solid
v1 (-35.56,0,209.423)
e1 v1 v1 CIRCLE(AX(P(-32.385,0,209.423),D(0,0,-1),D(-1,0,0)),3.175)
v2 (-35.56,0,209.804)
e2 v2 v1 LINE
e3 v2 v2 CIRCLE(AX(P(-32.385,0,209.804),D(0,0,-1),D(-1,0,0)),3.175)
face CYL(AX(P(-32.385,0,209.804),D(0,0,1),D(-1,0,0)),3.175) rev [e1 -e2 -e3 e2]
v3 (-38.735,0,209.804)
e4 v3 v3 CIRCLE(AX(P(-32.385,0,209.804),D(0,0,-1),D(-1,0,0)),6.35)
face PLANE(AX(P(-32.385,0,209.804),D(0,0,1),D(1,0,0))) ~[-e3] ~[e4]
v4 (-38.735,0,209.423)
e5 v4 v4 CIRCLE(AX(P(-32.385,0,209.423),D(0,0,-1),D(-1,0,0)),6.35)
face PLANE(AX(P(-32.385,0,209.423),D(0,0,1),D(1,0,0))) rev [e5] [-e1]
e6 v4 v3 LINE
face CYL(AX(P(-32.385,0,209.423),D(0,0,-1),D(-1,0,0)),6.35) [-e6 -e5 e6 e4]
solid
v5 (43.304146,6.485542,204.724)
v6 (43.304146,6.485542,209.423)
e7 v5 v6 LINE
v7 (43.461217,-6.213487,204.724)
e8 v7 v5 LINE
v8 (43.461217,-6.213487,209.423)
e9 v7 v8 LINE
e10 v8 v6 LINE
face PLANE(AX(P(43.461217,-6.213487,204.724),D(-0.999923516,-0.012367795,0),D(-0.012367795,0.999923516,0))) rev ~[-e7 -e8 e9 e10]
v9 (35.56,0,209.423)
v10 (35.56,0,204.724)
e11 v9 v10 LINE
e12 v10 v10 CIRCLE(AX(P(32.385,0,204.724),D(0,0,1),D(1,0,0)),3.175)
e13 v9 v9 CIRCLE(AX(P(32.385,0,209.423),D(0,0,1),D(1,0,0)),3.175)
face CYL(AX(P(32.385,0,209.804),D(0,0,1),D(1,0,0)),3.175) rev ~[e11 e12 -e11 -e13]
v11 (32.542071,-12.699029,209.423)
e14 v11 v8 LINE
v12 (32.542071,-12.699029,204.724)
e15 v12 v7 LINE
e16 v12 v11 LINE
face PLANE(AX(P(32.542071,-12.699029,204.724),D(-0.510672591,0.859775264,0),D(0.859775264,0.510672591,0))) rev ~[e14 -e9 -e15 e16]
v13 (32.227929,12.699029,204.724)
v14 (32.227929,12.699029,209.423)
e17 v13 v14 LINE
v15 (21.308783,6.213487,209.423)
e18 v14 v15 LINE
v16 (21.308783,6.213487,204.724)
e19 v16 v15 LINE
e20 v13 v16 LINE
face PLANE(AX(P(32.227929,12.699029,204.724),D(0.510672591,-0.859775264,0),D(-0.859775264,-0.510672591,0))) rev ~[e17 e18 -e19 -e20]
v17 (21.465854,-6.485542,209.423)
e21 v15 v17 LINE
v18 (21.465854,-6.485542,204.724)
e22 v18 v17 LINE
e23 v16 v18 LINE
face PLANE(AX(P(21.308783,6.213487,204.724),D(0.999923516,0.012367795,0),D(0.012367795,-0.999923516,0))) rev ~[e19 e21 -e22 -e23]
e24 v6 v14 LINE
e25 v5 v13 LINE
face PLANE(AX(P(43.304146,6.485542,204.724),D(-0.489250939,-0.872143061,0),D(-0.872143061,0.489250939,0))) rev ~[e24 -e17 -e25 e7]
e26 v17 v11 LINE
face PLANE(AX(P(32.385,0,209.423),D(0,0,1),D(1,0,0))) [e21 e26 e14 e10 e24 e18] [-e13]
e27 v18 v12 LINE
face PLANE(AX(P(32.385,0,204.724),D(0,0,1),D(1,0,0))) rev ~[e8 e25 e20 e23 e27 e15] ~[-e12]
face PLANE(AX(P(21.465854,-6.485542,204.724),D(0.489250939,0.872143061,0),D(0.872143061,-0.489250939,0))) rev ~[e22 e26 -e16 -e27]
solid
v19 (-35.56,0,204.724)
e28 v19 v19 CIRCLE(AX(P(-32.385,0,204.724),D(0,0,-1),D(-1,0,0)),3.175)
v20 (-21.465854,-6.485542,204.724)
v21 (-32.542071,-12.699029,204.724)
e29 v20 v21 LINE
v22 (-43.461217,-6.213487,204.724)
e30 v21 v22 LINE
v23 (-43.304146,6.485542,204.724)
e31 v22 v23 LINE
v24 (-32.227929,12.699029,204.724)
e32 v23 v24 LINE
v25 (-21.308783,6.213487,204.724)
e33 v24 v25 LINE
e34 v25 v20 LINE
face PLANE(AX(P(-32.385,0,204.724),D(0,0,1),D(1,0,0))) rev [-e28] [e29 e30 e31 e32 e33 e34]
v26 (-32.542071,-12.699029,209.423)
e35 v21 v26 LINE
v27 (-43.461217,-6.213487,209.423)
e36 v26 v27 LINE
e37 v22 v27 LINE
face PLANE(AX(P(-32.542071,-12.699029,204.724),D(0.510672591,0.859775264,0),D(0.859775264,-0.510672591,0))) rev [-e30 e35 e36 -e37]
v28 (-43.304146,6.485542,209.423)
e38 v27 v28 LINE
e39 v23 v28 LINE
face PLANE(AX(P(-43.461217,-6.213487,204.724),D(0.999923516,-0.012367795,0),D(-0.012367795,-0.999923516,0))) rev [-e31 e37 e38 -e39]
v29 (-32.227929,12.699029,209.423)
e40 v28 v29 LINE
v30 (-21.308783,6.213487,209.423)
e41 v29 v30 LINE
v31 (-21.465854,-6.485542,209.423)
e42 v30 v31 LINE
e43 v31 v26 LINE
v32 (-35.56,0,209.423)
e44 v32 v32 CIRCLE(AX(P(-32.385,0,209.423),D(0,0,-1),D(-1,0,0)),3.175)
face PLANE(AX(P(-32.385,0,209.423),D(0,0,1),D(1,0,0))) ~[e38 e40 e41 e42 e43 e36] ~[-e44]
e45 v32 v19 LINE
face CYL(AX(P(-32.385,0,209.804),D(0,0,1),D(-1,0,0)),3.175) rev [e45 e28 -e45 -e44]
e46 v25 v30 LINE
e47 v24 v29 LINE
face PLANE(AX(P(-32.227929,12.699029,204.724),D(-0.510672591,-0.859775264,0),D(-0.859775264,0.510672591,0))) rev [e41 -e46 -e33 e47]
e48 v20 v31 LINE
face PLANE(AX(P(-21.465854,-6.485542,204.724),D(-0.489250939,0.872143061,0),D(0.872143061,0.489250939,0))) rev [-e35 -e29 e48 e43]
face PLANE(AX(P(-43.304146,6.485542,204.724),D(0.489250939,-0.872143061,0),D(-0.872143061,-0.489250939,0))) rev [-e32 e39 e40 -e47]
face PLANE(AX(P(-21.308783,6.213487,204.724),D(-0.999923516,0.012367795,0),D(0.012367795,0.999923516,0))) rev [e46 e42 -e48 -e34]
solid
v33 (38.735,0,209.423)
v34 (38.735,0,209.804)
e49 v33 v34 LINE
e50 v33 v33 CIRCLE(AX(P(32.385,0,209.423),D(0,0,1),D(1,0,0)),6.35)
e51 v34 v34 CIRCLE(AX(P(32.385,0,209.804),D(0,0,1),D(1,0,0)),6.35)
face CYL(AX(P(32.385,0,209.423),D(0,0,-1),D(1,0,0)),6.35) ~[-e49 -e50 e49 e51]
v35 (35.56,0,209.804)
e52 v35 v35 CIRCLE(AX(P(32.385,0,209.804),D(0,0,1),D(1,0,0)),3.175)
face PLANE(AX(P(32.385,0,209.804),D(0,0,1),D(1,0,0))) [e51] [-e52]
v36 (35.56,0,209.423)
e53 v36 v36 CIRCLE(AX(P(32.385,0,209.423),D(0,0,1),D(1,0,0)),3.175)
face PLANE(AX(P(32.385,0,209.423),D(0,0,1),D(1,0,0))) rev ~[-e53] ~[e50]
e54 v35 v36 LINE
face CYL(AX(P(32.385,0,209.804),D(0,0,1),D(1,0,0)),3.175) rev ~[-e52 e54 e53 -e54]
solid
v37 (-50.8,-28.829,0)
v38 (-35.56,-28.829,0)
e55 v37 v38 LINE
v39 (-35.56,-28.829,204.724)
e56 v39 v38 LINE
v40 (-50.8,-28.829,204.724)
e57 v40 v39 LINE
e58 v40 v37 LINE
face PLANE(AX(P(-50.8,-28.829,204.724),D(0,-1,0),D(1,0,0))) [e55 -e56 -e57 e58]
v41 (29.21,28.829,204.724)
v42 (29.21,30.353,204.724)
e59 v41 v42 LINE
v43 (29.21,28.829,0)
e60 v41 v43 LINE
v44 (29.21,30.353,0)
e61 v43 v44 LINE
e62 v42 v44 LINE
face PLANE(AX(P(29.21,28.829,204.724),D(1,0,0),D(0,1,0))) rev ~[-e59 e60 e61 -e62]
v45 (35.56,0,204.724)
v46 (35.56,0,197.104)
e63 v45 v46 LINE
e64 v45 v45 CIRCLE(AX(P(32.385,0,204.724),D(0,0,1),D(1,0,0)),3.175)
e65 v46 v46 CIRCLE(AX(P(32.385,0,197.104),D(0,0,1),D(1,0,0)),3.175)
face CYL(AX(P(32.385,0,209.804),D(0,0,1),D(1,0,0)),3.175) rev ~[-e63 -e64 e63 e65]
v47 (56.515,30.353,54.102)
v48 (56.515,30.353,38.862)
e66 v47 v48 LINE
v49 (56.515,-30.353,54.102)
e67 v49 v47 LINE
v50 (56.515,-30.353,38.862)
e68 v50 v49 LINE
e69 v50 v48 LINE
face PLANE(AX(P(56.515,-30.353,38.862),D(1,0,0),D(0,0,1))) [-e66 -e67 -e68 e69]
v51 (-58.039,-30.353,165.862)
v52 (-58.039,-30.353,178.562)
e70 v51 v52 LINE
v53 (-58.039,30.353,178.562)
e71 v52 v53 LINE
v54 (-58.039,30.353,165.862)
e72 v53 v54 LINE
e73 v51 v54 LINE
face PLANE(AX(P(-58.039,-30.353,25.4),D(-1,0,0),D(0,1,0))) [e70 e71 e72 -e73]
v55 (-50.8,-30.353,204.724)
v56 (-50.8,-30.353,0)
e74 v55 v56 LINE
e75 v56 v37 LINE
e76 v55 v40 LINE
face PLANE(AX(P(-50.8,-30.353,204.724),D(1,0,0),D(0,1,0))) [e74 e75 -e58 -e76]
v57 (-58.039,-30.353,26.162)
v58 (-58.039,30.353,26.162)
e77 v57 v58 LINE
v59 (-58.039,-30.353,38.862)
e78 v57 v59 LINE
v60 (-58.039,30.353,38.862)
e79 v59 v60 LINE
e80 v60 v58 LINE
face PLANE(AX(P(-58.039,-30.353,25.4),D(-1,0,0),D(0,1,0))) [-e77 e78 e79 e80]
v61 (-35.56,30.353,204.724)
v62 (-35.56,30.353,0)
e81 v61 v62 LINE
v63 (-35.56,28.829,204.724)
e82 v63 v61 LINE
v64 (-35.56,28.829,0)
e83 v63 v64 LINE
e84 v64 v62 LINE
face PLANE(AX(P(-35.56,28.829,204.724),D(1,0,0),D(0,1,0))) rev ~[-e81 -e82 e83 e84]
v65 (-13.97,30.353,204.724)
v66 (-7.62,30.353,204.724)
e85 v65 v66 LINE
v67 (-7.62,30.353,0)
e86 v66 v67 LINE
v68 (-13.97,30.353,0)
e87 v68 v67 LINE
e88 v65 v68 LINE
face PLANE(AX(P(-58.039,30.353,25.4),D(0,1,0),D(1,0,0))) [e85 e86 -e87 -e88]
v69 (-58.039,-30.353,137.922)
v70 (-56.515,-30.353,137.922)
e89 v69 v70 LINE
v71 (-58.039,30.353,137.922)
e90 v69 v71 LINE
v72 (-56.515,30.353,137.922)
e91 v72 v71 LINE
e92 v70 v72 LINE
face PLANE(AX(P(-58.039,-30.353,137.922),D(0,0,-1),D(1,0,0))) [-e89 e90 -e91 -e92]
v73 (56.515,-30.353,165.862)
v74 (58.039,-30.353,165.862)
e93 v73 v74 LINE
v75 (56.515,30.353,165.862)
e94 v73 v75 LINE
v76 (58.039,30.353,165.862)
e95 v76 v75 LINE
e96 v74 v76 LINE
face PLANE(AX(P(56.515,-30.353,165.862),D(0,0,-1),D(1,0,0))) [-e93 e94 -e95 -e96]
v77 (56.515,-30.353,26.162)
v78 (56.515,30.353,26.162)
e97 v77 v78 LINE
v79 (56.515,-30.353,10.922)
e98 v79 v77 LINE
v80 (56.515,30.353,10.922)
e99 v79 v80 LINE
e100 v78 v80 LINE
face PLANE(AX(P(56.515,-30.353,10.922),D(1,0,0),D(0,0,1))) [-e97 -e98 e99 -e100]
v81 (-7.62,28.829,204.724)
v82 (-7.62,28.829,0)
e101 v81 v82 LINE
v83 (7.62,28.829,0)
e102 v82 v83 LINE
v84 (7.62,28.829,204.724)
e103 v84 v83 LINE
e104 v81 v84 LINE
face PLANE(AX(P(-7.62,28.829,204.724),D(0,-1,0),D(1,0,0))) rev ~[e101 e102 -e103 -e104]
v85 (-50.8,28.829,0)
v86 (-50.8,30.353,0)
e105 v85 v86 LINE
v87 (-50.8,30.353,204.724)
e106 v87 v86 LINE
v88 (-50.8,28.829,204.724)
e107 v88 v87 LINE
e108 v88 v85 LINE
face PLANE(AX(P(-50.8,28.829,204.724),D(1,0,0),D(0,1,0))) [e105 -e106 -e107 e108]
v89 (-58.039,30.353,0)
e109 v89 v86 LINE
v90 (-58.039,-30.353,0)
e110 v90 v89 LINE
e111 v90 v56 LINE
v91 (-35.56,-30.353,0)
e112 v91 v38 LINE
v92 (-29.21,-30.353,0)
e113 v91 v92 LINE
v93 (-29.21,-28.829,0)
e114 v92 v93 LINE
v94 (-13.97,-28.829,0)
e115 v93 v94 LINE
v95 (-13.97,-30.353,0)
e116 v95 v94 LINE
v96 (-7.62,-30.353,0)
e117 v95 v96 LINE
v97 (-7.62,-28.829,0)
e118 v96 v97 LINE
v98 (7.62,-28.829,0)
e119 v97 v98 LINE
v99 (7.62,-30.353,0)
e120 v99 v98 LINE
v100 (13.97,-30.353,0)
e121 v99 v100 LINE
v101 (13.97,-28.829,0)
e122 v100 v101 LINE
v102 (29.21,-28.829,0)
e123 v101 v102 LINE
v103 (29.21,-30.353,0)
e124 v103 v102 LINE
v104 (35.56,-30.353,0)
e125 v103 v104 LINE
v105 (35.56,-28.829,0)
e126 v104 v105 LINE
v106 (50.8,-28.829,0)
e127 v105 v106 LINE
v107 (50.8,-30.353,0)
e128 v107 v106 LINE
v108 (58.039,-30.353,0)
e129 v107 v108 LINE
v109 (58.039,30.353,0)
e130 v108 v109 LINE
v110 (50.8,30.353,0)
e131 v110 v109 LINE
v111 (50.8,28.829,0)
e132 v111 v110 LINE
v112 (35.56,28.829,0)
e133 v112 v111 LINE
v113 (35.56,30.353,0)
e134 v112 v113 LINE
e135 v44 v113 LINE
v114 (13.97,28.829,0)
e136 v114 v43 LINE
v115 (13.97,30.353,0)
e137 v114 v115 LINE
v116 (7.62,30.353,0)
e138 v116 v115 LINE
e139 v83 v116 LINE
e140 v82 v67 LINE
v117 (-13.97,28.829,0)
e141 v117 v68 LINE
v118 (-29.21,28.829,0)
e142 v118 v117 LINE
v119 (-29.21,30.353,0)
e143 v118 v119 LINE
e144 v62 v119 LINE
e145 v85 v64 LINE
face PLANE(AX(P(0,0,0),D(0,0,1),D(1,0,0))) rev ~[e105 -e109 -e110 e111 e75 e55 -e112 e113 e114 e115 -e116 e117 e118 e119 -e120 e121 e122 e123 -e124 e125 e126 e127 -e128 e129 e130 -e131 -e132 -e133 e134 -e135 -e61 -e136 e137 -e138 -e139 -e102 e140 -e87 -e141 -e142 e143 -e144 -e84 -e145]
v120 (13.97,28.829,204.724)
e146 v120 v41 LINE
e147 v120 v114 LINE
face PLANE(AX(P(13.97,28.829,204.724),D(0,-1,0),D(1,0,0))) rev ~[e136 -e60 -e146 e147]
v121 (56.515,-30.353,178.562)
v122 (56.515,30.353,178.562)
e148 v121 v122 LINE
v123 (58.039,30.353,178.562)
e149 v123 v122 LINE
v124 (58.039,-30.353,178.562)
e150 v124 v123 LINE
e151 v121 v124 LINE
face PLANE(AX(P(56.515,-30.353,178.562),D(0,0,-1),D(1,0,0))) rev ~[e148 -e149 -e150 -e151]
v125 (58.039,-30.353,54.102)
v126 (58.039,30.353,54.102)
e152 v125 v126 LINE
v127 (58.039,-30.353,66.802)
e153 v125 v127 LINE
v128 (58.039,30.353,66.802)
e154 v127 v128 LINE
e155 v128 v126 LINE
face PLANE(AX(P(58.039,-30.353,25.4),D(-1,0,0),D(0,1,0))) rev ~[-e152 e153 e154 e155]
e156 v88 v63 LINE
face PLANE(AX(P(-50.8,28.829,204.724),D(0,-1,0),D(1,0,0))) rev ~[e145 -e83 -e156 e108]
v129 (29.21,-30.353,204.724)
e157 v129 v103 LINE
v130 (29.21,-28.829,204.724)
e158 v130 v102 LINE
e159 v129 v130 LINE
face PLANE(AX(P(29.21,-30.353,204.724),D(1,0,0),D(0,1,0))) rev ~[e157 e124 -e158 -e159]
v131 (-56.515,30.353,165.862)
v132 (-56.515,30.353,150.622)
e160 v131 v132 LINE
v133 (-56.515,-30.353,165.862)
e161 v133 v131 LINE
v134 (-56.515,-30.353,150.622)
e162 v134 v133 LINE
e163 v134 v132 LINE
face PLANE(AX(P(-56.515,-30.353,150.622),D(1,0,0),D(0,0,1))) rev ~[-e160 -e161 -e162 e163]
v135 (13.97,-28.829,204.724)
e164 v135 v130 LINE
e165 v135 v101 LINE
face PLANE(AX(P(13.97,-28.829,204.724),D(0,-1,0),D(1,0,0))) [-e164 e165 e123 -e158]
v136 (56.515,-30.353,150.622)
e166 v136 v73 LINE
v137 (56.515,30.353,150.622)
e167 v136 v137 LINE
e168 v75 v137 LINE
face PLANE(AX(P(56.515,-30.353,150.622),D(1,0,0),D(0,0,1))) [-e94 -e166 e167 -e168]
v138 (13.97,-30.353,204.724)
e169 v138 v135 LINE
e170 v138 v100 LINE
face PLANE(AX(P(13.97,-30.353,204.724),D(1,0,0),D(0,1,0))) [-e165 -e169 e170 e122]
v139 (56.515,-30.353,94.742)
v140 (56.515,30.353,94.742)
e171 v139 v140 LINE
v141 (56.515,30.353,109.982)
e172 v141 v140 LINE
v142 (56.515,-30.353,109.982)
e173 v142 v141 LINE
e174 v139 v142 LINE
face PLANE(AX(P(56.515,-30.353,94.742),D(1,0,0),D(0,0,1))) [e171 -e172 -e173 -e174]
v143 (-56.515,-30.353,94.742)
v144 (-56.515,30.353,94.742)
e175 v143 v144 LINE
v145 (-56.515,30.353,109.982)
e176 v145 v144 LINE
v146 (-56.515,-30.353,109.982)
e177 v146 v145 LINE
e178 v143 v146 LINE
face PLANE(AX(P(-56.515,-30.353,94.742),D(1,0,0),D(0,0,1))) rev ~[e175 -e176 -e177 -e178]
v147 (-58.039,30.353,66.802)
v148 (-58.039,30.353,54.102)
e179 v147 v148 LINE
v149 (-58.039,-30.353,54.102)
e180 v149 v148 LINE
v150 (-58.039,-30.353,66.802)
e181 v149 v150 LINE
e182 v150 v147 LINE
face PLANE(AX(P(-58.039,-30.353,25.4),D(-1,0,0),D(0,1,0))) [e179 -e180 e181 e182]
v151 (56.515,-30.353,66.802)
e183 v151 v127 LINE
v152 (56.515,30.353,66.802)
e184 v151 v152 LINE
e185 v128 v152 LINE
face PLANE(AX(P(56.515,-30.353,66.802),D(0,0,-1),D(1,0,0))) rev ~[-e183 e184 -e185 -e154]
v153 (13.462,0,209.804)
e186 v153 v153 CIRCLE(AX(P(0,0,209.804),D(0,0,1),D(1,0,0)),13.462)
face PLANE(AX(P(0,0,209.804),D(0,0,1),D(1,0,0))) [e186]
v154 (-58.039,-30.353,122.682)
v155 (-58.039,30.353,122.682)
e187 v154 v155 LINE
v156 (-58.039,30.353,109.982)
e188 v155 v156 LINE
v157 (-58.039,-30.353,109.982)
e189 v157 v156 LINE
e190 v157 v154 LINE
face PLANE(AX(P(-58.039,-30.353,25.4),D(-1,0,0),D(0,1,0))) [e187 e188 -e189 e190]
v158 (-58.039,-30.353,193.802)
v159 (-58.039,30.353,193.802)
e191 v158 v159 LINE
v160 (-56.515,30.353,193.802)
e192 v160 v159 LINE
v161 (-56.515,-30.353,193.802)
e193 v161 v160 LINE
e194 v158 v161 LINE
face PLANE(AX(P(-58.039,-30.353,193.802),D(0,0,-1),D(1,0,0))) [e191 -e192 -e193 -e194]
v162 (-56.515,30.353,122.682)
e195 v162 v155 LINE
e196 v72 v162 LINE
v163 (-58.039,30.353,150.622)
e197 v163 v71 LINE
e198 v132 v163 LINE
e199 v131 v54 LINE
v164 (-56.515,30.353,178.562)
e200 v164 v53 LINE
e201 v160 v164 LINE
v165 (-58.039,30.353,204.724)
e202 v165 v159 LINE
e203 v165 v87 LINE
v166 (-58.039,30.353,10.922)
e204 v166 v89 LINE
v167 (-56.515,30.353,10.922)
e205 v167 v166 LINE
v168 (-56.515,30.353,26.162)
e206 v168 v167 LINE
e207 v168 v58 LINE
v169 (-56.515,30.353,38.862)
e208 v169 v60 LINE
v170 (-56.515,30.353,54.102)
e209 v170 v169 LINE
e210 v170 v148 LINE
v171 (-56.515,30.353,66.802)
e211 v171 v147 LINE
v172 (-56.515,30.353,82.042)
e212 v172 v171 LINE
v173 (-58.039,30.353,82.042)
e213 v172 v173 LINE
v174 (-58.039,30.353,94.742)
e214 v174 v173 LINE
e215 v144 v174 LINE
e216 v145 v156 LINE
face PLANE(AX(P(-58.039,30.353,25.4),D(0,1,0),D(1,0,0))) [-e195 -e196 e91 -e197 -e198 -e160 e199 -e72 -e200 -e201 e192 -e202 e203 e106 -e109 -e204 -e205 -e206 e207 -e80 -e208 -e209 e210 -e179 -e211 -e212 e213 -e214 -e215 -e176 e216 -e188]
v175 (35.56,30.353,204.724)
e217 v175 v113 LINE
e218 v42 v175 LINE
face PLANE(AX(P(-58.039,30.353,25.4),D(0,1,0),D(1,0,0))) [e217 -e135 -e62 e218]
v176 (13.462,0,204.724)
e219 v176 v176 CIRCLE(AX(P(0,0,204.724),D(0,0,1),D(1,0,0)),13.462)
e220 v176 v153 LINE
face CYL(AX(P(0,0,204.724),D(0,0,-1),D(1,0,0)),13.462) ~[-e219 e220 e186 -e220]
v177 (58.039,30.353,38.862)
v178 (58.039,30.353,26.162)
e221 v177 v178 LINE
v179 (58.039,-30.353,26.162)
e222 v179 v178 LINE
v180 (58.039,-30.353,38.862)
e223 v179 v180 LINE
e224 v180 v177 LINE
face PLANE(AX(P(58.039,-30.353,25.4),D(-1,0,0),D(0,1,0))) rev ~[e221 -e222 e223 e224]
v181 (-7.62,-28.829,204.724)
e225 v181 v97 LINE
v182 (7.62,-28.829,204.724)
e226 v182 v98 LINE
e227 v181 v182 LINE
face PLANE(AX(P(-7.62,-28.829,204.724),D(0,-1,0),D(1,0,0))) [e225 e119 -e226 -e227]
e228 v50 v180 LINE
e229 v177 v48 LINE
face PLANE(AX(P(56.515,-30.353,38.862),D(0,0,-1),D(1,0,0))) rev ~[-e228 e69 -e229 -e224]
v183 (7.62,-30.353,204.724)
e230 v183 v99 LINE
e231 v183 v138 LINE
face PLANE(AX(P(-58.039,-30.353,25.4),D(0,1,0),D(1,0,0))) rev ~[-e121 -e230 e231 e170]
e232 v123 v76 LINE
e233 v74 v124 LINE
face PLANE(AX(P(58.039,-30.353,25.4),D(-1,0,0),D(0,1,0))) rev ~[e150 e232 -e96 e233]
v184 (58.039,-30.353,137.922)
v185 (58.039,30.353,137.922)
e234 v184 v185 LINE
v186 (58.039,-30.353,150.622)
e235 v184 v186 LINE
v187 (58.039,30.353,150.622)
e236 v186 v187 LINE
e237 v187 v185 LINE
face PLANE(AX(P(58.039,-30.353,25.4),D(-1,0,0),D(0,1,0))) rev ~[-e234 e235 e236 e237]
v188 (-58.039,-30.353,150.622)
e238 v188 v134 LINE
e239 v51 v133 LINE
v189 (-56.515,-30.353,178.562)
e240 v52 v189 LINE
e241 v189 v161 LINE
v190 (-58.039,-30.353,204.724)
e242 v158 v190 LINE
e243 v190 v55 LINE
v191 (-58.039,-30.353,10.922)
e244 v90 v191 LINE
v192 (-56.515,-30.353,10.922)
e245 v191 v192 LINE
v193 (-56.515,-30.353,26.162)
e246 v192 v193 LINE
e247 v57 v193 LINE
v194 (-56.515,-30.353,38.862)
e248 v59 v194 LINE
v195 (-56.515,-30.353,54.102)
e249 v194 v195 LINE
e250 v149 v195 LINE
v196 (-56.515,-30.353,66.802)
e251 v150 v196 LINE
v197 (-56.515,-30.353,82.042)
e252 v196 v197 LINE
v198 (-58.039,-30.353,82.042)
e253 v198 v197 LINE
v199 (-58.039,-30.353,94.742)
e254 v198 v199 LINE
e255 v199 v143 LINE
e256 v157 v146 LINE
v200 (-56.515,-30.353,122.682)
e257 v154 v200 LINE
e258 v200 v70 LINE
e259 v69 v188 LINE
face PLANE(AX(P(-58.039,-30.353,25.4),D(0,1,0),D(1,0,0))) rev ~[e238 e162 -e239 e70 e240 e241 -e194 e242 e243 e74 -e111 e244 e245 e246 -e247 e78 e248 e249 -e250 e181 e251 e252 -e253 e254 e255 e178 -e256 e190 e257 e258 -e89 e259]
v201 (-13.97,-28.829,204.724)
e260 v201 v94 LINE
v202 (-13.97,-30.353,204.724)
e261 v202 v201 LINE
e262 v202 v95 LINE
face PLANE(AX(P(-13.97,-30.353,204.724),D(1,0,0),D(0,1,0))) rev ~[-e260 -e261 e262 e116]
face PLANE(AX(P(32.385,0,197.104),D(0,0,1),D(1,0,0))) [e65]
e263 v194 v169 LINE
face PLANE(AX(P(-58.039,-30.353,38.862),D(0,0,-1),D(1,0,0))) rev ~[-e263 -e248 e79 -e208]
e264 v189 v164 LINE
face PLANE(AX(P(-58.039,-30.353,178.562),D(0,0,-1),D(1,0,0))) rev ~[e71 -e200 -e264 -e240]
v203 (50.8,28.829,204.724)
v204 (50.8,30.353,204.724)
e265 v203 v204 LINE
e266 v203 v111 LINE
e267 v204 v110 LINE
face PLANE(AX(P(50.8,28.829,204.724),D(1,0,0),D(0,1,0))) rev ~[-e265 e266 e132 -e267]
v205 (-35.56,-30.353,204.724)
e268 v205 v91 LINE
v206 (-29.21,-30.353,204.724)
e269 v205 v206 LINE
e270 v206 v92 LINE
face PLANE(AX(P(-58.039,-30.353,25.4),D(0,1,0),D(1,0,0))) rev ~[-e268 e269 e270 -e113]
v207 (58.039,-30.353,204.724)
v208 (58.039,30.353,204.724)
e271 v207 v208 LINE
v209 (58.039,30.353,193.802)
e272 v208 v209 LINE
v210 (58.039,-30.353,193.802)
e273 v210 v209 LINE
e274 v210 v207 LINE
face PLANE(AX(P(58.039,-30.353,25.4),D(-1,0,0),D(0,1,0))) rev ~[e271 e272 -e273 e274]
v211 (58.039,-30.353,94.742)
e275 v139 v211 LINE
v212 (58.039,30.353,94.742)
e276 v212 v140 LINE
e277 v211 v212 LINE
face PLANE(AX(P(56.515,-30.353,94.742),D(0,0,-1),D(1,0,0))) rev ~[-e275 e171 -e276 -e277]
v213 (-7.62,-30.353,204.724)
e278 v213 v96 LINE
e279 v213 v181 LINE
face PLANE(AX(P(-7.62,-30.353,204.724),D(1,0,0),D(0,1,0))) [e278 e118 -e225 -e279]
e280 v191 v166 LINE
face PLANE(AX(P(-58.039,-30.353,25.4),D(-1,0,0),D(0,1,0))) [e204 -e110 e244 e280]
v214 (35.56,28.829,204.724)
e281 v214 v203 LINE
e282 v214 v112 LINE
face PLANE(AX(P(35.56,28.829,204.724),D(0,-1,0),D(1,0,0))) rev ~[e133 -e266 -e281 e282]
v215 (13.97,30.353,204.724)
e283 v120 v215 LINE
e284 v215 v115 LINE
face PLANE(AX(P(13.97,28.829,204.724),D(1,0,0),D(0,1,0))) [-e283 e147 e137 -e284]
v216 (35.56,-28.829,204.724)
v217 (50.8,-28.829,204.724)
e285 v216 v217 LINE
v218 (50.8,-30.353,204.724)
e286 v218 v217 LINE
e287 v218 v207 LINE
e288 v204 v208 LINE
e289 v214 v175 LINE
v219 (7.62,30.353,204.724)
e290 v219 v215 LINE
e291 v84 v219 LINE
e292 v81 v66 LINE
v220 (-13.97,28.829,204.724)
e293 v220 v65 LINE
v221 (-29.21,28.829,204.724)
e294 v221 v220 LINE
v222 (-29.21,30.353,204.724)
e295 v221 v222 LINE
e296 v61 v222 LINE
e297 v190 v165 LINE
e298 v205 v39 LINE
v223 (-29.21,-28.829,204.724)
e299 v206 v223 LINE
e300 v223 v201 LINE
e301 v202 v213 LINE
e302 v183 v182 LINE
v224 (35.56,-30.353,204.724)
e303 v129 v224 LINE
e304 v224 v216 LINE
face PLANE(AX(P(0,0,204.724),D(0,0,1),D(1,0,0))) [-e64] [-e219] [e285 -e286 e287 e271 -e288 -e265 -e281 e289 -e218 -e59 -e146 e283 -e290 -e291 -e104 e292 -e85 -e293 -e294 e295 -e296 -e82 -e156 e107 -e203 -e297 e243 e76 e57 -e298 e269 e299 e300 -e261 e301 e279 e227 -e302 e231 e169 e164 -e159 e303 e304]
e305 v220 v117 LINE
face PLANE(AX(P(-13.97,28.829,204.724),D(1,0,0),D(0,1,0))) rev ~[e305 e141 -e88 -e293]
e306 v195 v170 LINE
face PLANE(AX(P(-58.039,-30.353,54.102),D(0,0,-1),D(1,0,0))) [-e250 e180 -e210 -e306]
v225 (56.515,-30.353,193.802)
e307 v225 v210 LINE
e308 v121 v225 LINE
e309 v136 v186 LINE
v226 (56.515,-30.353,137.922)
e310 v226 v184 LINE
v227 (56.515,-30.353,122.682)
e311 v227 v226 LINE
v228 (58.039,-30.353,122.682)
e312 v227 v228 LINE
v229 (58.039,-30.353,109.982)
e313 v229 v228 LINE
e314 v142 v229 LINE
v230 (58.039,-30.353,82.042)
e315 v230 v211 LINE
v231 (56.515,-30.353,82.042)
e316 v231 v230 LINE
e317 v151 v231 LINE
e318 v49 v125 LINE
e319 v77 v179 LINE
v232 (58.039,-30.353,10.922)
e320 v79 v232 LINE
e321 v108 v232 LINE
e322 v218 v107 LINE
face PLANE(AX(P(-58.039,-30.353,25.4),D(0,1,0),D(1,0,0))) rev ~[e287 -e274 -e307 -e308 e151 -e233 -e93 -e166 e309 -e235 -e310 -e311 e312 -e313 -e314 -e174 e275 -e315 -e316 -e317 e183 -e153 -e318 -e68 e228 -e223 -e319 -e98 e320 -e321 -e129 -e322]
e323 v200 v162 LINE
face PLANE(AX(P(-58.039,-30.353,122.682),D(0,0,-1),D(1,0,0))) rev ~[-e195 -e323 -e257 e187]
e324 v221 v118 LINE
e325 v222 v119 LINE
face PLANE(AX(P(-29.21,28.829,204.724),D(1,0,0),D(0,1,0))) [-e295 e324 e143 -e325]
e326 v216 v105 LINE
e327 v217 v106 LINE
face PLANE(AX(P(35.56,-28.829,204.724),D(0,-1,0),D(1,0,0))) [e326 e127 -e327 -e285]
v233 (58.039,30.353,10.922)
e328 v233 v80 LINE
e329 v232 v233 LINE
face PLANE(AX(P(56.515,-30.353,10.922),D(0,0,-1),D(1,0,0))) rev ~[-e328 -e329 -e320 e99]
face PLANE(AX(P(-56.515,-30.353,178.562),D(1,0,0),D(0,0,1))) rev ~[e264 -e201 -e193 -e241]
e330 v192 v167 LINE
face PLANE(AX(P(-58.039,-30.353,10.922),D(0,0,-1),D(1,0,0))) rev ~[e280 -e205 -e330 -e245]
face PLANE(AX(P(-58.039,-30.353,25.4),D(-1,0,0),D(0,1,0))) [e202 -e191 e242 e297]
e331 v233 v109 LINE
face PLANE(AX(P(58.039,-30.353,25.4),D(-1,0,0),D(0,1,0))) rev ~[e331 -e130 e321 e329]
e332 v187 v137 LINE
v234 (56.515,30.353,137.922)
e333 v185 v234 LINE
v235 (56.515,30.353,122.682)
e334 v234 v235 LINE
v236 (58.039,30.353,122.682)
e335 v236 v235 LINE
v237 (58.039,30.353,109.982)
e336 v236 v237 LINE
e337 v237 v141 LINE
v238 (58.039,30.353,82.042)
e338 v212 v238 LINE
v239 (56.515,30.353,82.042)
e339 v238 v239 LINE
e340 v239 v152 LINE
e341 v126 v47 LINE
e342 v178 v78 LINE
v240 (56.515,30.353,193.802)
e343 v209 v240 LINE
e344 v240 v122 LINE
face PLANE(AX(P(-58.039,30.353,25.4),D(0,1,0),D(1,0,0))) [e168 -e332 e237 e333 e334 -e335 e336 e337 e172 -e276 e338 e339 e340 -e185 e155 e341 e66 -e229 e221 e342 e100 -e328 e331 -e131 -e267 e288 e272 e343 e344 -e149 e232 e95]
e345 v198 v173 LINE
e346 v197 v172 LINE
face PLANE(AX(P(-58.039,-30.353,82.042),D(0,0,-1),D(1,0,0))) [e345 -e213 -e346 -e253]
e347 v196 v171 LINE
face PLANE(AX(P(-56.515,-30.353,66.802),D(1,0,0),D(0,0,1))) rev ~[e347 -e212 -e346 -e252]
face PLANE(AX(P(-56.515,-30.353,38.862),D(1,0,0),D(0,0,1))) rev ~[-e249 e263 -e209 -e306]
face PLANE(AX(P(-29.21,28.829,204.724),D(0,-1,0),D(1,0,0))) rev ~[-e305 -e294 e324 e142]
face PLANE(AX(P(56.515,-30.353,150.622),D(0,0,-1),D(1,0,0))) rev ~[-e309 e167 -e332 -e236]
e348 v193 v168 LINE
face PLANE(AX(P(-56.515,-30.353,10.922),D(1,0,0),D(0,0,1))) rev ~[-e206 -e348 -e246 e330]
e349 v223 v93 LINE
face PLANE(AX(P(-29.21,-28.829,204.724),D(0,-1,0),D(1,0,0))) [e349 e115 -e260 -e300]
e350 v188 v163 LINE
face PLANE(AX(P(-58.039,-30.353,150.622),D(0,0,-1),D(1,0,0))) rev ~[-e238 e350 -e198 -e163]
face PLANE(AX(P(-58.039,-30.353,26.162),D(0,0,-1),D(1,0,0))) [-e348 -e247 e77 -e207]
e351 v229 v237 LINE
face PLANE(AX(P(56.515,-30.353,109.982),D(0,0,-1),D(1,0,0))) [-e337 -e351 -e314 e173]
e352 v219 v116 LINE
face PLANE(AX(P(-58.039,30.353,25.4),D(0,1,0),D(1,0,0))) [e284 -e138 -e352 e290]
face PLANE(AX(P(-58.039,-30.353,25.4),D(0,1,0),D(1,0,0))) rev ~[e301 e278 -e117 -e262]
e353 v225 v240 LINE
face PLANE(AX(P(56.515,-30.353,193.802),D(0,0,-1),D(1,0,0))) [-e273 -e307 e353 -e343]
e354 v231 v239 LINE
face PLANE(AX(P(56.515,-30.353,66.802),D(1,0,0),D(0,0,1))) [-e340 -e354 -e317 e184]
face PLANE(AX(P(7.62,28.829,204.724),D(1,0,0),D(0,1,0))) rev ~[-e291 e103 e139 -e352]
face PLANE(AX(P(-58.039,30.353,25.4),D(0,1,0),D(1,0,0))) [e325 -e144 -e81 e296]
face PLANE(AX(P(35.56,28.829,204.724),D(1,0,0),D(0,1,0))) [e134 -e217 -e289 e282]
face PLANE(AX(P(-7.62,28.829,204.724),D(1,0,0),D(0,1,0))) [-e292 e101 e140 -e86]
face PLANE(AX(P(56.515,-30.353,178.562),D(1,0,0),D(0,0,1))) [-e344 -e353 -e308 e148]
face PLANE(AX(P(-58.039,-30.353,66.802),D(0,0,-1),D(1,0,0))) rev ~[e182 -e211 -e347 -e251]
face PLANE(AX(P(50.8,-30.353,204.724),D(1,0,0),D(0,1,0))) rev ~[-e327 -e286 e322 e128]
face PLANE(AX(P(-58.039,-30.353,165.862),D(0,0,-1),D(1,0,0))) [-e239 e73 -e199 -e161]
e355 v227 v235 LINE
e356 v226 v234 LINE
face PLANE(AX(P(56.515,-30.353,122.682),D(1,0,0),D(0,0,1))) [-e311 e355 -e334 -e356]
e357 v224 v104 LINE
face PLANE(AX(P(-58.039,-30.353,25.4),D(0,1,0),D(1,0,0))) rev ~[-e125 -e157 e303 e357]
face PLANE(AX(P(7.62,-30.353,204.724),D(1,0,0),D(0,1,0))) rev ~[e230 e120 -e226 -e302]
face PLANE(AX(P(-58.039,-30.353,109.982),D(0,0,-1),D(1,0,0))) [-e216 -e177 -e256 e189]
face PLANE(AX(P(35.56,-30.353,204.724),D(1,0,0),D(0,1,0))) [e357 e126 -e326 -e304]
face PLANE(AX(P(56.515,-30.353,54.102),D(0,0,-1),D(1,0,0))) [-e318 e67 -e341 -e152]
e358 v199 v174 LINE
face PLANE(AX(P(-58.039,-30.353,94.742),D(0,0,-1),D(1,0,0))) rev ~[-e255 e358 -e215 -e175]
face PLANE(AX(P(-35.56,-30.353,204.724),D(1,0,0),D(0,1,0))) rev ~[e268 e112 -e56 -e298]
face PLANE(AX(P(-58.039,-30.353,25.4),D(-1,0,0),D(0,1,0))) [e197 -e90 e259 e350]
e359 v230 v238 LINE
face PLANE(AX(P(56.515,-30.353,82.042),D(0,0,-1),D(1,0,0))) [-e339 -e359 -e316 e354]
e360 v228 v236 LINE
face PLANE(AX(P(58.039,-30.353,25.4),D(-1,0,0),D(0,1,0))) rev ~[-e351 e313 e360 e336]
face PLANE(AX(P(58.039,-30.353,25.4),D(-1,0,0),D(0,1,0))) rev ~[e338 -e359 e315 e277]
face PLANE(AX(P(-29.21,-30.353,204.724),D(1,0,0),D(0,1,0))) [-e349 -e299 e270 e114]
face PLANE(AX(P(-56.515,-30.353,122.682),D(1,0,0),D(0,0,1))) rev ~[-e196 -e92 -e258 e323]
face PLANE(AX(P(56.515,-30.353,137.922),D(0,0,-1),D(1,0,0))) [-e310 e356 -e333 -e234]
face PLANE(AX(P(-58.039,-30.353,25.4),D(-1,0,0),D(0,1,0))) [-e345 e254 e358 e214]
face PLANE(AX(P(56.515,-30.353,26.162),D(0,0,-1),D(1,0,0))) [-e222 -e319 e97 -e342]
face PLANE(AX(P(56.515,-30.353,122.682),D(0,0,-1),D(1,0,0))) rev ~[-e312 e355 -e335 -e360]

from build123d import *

# Parameters (mm, degrees)
F0_W      = 116.078
F0_H      = 60.706
F1_DEPTH  = 25.4
F1_FACE_W = 116.078
F1_FACE_H = 60.706
F2_DEPTH  = 179.324
F3_W      = 15.24
F3_H      = 1.524
F4_DEPTH  = 204.725
F5_W      = 1.524
F5_H      = 15.24
F6_DEPTH  = 60.707
F7_R      = 13.462
F8_DEPTH  = 5.08
F10_DEPTH = 4.699
F11_R     = 6.35
F12_DEPTH = 0.381
F13_R     = 3.175
F14_DEPTH = 12.7


with BuildPart() as f1:
    # F0 (on Top) → F1 (new body)
    with BuildSketch(Plane.XY):
        Rectangle(F0_W, F0_H)
    extrude(amount=F1_DEPTH)

    # F1_face (on face) → F2 (join)
    with BuildSketch(Plane.XY.offset(25.4)):
        Rectangle(F1_FACE_W, F1_FACE_H)
    extrude(amount=F2_DEPTH)

    # F3 (on face) → F4 (cut, through all)
    with BuildSketch(Plane.XY.offset(204.724)):
        with Locations((-43.18, 29.591)):
            Rectangle(F3_W, F3_H)
        with Locations((-21.59, 29.591)):
            Rectangle(F3_W, F3_H)
        with Locations((0, 29.591)):
            Rectangle(F3_W, F3_H)
        with Locations((21.59, 29.591)):
            Rectangle(F3_W, F3_H)
        with Locations((43.18, 29.591)):
            Rectangle(F3_W, F3_H)
        with Locations((43.18, -29.591)):
            Rectangle(F3_W, F3_H)
        with Locations((21.59, -29.591)):
            Rectangle(F3_W, F3_H)
        with Locations((0, -29.591)):
            Rectangle(F3_W, F3_H)
        with Locations((-21.59, -29.591)):
            Rectangle(F3_W, F3_H)
        with Locations((-43.18, -29.591)):
            Rectangle(F3_W, F3_H)
    extrude(amount=-F4_DEPTH, mode=Mode.SUBTRACT)

    # F5 (on face) → F6 (cut, through all)
    with BuildSketch(Plane.XZ.offset(30.353)):
        with Locations((-57.277, 102.362)):
            Rectangle(F5_W, F5_H)
        with Locations((-57.277, 74.422)):
            Rectangle(F5_W, F5_H)
        with Locations((-57.277, 46.482)):
            Rectangle(F5_W, F5_H)
        with Locations((-57.277, 18.542)):
            Rectangle(F5_W, F5_H)
        with Locations((-57.277, 130.302)):
            Rectangle(F5_W, F5_H)
        with Locations((-57.277, 158.242)):
            Rectangle(F5_W, F5_H)
        with Locations((-57.277, 186.182)):
            Rectangle(F5_W, F5_H)
        with Locations((57.277, 102.362)):
            Rectangle(F5_W, F5_H)
        with Locations((57.277, 74.422)):
            Rectangle(F5_W, F5_H)
        with Locations((57.277, 130.302)):
            Rectangle(F5_W, F5_H)
        with Locations((57.277, 46.482)):
            Rectangle(F5_W, F5_H)
        with Locations((57.277, 186.182)):
            Rectangle(F5_W, F5_H)
        with Locations((57.277, 18.542)):
            Rectangle(F5_W, F5_H)
        with Locations((57.277, 158.242)):
            Rectangle(F5_W, F5_H)
    extrude(amount=-F6_DEPTH, mode=Mode.SUBTRACT)

    # F7 (on face) → F8 (join)
    with BuildSketch(Plane.XY.offset(204.724)):
        Circle(F7_R)
    extrude(amount=F8_DEPTH)


with BuildPart() as f10:
    # F9 (on face) → F10 (new body)
    with BuildSketch(Plane.XY.offset(204.724)):
        Polygon((32.542071, -12.699029), (43.461217, -6.213487), (43.304146, 6.485542), (32.227929, 12.699029), (21.308783, 6.213487), (21.465854, -6.485542), align=None)
    extrude(amount=F10_DEPTH)


with BuildPart() as f12:
    # F11 (on face) → F12 (new body)
    with BuildSketch(Plane.XY.offset(209.423)):
        with Locations((32.385, 0)):
            Circle(F11_R)
    extrude(amount=F12_DEPTH)


with BuildPart() as f14_tool:
    # F13 (on face) → F14 (new body)
    with BuildSketch(Plane.XY.offset(209.804)):
        with Locations((32.385, 0)):
            Circle(F13_R)
    extrude(amount=-F14_DEPTH)


with BuildPart() as f1_1:
    add(f1.part)

    # F14: cut by f14_tool
    add(f14_tool.part, mode=Mode.SUBTRACT)


with BuildPart() as f10_1:
    add(f10.part)

    # F14: cut by f14_tool
    add(f14_tool.part, mode=Mode.SUBTRACT)


with BuildPart() as f12_1:
    add(f12.part)

    # F14: cut by f14_tool
    add(f14_tool.part, mode=Mode.SUBTRACT)


with BuildPart() as f15_1:
    # F15: instance of F12
    add(f12_1.part.mirror(Plane.YZ))


with BuildPart() as f15_2:
    # F15: instance of F10
    add(f10_1.part.mirror(Plane.YZ))


solid = Compound([f1_1.part, f10_1.part, f12_1.part, f15_1.part, f15_2.part])
